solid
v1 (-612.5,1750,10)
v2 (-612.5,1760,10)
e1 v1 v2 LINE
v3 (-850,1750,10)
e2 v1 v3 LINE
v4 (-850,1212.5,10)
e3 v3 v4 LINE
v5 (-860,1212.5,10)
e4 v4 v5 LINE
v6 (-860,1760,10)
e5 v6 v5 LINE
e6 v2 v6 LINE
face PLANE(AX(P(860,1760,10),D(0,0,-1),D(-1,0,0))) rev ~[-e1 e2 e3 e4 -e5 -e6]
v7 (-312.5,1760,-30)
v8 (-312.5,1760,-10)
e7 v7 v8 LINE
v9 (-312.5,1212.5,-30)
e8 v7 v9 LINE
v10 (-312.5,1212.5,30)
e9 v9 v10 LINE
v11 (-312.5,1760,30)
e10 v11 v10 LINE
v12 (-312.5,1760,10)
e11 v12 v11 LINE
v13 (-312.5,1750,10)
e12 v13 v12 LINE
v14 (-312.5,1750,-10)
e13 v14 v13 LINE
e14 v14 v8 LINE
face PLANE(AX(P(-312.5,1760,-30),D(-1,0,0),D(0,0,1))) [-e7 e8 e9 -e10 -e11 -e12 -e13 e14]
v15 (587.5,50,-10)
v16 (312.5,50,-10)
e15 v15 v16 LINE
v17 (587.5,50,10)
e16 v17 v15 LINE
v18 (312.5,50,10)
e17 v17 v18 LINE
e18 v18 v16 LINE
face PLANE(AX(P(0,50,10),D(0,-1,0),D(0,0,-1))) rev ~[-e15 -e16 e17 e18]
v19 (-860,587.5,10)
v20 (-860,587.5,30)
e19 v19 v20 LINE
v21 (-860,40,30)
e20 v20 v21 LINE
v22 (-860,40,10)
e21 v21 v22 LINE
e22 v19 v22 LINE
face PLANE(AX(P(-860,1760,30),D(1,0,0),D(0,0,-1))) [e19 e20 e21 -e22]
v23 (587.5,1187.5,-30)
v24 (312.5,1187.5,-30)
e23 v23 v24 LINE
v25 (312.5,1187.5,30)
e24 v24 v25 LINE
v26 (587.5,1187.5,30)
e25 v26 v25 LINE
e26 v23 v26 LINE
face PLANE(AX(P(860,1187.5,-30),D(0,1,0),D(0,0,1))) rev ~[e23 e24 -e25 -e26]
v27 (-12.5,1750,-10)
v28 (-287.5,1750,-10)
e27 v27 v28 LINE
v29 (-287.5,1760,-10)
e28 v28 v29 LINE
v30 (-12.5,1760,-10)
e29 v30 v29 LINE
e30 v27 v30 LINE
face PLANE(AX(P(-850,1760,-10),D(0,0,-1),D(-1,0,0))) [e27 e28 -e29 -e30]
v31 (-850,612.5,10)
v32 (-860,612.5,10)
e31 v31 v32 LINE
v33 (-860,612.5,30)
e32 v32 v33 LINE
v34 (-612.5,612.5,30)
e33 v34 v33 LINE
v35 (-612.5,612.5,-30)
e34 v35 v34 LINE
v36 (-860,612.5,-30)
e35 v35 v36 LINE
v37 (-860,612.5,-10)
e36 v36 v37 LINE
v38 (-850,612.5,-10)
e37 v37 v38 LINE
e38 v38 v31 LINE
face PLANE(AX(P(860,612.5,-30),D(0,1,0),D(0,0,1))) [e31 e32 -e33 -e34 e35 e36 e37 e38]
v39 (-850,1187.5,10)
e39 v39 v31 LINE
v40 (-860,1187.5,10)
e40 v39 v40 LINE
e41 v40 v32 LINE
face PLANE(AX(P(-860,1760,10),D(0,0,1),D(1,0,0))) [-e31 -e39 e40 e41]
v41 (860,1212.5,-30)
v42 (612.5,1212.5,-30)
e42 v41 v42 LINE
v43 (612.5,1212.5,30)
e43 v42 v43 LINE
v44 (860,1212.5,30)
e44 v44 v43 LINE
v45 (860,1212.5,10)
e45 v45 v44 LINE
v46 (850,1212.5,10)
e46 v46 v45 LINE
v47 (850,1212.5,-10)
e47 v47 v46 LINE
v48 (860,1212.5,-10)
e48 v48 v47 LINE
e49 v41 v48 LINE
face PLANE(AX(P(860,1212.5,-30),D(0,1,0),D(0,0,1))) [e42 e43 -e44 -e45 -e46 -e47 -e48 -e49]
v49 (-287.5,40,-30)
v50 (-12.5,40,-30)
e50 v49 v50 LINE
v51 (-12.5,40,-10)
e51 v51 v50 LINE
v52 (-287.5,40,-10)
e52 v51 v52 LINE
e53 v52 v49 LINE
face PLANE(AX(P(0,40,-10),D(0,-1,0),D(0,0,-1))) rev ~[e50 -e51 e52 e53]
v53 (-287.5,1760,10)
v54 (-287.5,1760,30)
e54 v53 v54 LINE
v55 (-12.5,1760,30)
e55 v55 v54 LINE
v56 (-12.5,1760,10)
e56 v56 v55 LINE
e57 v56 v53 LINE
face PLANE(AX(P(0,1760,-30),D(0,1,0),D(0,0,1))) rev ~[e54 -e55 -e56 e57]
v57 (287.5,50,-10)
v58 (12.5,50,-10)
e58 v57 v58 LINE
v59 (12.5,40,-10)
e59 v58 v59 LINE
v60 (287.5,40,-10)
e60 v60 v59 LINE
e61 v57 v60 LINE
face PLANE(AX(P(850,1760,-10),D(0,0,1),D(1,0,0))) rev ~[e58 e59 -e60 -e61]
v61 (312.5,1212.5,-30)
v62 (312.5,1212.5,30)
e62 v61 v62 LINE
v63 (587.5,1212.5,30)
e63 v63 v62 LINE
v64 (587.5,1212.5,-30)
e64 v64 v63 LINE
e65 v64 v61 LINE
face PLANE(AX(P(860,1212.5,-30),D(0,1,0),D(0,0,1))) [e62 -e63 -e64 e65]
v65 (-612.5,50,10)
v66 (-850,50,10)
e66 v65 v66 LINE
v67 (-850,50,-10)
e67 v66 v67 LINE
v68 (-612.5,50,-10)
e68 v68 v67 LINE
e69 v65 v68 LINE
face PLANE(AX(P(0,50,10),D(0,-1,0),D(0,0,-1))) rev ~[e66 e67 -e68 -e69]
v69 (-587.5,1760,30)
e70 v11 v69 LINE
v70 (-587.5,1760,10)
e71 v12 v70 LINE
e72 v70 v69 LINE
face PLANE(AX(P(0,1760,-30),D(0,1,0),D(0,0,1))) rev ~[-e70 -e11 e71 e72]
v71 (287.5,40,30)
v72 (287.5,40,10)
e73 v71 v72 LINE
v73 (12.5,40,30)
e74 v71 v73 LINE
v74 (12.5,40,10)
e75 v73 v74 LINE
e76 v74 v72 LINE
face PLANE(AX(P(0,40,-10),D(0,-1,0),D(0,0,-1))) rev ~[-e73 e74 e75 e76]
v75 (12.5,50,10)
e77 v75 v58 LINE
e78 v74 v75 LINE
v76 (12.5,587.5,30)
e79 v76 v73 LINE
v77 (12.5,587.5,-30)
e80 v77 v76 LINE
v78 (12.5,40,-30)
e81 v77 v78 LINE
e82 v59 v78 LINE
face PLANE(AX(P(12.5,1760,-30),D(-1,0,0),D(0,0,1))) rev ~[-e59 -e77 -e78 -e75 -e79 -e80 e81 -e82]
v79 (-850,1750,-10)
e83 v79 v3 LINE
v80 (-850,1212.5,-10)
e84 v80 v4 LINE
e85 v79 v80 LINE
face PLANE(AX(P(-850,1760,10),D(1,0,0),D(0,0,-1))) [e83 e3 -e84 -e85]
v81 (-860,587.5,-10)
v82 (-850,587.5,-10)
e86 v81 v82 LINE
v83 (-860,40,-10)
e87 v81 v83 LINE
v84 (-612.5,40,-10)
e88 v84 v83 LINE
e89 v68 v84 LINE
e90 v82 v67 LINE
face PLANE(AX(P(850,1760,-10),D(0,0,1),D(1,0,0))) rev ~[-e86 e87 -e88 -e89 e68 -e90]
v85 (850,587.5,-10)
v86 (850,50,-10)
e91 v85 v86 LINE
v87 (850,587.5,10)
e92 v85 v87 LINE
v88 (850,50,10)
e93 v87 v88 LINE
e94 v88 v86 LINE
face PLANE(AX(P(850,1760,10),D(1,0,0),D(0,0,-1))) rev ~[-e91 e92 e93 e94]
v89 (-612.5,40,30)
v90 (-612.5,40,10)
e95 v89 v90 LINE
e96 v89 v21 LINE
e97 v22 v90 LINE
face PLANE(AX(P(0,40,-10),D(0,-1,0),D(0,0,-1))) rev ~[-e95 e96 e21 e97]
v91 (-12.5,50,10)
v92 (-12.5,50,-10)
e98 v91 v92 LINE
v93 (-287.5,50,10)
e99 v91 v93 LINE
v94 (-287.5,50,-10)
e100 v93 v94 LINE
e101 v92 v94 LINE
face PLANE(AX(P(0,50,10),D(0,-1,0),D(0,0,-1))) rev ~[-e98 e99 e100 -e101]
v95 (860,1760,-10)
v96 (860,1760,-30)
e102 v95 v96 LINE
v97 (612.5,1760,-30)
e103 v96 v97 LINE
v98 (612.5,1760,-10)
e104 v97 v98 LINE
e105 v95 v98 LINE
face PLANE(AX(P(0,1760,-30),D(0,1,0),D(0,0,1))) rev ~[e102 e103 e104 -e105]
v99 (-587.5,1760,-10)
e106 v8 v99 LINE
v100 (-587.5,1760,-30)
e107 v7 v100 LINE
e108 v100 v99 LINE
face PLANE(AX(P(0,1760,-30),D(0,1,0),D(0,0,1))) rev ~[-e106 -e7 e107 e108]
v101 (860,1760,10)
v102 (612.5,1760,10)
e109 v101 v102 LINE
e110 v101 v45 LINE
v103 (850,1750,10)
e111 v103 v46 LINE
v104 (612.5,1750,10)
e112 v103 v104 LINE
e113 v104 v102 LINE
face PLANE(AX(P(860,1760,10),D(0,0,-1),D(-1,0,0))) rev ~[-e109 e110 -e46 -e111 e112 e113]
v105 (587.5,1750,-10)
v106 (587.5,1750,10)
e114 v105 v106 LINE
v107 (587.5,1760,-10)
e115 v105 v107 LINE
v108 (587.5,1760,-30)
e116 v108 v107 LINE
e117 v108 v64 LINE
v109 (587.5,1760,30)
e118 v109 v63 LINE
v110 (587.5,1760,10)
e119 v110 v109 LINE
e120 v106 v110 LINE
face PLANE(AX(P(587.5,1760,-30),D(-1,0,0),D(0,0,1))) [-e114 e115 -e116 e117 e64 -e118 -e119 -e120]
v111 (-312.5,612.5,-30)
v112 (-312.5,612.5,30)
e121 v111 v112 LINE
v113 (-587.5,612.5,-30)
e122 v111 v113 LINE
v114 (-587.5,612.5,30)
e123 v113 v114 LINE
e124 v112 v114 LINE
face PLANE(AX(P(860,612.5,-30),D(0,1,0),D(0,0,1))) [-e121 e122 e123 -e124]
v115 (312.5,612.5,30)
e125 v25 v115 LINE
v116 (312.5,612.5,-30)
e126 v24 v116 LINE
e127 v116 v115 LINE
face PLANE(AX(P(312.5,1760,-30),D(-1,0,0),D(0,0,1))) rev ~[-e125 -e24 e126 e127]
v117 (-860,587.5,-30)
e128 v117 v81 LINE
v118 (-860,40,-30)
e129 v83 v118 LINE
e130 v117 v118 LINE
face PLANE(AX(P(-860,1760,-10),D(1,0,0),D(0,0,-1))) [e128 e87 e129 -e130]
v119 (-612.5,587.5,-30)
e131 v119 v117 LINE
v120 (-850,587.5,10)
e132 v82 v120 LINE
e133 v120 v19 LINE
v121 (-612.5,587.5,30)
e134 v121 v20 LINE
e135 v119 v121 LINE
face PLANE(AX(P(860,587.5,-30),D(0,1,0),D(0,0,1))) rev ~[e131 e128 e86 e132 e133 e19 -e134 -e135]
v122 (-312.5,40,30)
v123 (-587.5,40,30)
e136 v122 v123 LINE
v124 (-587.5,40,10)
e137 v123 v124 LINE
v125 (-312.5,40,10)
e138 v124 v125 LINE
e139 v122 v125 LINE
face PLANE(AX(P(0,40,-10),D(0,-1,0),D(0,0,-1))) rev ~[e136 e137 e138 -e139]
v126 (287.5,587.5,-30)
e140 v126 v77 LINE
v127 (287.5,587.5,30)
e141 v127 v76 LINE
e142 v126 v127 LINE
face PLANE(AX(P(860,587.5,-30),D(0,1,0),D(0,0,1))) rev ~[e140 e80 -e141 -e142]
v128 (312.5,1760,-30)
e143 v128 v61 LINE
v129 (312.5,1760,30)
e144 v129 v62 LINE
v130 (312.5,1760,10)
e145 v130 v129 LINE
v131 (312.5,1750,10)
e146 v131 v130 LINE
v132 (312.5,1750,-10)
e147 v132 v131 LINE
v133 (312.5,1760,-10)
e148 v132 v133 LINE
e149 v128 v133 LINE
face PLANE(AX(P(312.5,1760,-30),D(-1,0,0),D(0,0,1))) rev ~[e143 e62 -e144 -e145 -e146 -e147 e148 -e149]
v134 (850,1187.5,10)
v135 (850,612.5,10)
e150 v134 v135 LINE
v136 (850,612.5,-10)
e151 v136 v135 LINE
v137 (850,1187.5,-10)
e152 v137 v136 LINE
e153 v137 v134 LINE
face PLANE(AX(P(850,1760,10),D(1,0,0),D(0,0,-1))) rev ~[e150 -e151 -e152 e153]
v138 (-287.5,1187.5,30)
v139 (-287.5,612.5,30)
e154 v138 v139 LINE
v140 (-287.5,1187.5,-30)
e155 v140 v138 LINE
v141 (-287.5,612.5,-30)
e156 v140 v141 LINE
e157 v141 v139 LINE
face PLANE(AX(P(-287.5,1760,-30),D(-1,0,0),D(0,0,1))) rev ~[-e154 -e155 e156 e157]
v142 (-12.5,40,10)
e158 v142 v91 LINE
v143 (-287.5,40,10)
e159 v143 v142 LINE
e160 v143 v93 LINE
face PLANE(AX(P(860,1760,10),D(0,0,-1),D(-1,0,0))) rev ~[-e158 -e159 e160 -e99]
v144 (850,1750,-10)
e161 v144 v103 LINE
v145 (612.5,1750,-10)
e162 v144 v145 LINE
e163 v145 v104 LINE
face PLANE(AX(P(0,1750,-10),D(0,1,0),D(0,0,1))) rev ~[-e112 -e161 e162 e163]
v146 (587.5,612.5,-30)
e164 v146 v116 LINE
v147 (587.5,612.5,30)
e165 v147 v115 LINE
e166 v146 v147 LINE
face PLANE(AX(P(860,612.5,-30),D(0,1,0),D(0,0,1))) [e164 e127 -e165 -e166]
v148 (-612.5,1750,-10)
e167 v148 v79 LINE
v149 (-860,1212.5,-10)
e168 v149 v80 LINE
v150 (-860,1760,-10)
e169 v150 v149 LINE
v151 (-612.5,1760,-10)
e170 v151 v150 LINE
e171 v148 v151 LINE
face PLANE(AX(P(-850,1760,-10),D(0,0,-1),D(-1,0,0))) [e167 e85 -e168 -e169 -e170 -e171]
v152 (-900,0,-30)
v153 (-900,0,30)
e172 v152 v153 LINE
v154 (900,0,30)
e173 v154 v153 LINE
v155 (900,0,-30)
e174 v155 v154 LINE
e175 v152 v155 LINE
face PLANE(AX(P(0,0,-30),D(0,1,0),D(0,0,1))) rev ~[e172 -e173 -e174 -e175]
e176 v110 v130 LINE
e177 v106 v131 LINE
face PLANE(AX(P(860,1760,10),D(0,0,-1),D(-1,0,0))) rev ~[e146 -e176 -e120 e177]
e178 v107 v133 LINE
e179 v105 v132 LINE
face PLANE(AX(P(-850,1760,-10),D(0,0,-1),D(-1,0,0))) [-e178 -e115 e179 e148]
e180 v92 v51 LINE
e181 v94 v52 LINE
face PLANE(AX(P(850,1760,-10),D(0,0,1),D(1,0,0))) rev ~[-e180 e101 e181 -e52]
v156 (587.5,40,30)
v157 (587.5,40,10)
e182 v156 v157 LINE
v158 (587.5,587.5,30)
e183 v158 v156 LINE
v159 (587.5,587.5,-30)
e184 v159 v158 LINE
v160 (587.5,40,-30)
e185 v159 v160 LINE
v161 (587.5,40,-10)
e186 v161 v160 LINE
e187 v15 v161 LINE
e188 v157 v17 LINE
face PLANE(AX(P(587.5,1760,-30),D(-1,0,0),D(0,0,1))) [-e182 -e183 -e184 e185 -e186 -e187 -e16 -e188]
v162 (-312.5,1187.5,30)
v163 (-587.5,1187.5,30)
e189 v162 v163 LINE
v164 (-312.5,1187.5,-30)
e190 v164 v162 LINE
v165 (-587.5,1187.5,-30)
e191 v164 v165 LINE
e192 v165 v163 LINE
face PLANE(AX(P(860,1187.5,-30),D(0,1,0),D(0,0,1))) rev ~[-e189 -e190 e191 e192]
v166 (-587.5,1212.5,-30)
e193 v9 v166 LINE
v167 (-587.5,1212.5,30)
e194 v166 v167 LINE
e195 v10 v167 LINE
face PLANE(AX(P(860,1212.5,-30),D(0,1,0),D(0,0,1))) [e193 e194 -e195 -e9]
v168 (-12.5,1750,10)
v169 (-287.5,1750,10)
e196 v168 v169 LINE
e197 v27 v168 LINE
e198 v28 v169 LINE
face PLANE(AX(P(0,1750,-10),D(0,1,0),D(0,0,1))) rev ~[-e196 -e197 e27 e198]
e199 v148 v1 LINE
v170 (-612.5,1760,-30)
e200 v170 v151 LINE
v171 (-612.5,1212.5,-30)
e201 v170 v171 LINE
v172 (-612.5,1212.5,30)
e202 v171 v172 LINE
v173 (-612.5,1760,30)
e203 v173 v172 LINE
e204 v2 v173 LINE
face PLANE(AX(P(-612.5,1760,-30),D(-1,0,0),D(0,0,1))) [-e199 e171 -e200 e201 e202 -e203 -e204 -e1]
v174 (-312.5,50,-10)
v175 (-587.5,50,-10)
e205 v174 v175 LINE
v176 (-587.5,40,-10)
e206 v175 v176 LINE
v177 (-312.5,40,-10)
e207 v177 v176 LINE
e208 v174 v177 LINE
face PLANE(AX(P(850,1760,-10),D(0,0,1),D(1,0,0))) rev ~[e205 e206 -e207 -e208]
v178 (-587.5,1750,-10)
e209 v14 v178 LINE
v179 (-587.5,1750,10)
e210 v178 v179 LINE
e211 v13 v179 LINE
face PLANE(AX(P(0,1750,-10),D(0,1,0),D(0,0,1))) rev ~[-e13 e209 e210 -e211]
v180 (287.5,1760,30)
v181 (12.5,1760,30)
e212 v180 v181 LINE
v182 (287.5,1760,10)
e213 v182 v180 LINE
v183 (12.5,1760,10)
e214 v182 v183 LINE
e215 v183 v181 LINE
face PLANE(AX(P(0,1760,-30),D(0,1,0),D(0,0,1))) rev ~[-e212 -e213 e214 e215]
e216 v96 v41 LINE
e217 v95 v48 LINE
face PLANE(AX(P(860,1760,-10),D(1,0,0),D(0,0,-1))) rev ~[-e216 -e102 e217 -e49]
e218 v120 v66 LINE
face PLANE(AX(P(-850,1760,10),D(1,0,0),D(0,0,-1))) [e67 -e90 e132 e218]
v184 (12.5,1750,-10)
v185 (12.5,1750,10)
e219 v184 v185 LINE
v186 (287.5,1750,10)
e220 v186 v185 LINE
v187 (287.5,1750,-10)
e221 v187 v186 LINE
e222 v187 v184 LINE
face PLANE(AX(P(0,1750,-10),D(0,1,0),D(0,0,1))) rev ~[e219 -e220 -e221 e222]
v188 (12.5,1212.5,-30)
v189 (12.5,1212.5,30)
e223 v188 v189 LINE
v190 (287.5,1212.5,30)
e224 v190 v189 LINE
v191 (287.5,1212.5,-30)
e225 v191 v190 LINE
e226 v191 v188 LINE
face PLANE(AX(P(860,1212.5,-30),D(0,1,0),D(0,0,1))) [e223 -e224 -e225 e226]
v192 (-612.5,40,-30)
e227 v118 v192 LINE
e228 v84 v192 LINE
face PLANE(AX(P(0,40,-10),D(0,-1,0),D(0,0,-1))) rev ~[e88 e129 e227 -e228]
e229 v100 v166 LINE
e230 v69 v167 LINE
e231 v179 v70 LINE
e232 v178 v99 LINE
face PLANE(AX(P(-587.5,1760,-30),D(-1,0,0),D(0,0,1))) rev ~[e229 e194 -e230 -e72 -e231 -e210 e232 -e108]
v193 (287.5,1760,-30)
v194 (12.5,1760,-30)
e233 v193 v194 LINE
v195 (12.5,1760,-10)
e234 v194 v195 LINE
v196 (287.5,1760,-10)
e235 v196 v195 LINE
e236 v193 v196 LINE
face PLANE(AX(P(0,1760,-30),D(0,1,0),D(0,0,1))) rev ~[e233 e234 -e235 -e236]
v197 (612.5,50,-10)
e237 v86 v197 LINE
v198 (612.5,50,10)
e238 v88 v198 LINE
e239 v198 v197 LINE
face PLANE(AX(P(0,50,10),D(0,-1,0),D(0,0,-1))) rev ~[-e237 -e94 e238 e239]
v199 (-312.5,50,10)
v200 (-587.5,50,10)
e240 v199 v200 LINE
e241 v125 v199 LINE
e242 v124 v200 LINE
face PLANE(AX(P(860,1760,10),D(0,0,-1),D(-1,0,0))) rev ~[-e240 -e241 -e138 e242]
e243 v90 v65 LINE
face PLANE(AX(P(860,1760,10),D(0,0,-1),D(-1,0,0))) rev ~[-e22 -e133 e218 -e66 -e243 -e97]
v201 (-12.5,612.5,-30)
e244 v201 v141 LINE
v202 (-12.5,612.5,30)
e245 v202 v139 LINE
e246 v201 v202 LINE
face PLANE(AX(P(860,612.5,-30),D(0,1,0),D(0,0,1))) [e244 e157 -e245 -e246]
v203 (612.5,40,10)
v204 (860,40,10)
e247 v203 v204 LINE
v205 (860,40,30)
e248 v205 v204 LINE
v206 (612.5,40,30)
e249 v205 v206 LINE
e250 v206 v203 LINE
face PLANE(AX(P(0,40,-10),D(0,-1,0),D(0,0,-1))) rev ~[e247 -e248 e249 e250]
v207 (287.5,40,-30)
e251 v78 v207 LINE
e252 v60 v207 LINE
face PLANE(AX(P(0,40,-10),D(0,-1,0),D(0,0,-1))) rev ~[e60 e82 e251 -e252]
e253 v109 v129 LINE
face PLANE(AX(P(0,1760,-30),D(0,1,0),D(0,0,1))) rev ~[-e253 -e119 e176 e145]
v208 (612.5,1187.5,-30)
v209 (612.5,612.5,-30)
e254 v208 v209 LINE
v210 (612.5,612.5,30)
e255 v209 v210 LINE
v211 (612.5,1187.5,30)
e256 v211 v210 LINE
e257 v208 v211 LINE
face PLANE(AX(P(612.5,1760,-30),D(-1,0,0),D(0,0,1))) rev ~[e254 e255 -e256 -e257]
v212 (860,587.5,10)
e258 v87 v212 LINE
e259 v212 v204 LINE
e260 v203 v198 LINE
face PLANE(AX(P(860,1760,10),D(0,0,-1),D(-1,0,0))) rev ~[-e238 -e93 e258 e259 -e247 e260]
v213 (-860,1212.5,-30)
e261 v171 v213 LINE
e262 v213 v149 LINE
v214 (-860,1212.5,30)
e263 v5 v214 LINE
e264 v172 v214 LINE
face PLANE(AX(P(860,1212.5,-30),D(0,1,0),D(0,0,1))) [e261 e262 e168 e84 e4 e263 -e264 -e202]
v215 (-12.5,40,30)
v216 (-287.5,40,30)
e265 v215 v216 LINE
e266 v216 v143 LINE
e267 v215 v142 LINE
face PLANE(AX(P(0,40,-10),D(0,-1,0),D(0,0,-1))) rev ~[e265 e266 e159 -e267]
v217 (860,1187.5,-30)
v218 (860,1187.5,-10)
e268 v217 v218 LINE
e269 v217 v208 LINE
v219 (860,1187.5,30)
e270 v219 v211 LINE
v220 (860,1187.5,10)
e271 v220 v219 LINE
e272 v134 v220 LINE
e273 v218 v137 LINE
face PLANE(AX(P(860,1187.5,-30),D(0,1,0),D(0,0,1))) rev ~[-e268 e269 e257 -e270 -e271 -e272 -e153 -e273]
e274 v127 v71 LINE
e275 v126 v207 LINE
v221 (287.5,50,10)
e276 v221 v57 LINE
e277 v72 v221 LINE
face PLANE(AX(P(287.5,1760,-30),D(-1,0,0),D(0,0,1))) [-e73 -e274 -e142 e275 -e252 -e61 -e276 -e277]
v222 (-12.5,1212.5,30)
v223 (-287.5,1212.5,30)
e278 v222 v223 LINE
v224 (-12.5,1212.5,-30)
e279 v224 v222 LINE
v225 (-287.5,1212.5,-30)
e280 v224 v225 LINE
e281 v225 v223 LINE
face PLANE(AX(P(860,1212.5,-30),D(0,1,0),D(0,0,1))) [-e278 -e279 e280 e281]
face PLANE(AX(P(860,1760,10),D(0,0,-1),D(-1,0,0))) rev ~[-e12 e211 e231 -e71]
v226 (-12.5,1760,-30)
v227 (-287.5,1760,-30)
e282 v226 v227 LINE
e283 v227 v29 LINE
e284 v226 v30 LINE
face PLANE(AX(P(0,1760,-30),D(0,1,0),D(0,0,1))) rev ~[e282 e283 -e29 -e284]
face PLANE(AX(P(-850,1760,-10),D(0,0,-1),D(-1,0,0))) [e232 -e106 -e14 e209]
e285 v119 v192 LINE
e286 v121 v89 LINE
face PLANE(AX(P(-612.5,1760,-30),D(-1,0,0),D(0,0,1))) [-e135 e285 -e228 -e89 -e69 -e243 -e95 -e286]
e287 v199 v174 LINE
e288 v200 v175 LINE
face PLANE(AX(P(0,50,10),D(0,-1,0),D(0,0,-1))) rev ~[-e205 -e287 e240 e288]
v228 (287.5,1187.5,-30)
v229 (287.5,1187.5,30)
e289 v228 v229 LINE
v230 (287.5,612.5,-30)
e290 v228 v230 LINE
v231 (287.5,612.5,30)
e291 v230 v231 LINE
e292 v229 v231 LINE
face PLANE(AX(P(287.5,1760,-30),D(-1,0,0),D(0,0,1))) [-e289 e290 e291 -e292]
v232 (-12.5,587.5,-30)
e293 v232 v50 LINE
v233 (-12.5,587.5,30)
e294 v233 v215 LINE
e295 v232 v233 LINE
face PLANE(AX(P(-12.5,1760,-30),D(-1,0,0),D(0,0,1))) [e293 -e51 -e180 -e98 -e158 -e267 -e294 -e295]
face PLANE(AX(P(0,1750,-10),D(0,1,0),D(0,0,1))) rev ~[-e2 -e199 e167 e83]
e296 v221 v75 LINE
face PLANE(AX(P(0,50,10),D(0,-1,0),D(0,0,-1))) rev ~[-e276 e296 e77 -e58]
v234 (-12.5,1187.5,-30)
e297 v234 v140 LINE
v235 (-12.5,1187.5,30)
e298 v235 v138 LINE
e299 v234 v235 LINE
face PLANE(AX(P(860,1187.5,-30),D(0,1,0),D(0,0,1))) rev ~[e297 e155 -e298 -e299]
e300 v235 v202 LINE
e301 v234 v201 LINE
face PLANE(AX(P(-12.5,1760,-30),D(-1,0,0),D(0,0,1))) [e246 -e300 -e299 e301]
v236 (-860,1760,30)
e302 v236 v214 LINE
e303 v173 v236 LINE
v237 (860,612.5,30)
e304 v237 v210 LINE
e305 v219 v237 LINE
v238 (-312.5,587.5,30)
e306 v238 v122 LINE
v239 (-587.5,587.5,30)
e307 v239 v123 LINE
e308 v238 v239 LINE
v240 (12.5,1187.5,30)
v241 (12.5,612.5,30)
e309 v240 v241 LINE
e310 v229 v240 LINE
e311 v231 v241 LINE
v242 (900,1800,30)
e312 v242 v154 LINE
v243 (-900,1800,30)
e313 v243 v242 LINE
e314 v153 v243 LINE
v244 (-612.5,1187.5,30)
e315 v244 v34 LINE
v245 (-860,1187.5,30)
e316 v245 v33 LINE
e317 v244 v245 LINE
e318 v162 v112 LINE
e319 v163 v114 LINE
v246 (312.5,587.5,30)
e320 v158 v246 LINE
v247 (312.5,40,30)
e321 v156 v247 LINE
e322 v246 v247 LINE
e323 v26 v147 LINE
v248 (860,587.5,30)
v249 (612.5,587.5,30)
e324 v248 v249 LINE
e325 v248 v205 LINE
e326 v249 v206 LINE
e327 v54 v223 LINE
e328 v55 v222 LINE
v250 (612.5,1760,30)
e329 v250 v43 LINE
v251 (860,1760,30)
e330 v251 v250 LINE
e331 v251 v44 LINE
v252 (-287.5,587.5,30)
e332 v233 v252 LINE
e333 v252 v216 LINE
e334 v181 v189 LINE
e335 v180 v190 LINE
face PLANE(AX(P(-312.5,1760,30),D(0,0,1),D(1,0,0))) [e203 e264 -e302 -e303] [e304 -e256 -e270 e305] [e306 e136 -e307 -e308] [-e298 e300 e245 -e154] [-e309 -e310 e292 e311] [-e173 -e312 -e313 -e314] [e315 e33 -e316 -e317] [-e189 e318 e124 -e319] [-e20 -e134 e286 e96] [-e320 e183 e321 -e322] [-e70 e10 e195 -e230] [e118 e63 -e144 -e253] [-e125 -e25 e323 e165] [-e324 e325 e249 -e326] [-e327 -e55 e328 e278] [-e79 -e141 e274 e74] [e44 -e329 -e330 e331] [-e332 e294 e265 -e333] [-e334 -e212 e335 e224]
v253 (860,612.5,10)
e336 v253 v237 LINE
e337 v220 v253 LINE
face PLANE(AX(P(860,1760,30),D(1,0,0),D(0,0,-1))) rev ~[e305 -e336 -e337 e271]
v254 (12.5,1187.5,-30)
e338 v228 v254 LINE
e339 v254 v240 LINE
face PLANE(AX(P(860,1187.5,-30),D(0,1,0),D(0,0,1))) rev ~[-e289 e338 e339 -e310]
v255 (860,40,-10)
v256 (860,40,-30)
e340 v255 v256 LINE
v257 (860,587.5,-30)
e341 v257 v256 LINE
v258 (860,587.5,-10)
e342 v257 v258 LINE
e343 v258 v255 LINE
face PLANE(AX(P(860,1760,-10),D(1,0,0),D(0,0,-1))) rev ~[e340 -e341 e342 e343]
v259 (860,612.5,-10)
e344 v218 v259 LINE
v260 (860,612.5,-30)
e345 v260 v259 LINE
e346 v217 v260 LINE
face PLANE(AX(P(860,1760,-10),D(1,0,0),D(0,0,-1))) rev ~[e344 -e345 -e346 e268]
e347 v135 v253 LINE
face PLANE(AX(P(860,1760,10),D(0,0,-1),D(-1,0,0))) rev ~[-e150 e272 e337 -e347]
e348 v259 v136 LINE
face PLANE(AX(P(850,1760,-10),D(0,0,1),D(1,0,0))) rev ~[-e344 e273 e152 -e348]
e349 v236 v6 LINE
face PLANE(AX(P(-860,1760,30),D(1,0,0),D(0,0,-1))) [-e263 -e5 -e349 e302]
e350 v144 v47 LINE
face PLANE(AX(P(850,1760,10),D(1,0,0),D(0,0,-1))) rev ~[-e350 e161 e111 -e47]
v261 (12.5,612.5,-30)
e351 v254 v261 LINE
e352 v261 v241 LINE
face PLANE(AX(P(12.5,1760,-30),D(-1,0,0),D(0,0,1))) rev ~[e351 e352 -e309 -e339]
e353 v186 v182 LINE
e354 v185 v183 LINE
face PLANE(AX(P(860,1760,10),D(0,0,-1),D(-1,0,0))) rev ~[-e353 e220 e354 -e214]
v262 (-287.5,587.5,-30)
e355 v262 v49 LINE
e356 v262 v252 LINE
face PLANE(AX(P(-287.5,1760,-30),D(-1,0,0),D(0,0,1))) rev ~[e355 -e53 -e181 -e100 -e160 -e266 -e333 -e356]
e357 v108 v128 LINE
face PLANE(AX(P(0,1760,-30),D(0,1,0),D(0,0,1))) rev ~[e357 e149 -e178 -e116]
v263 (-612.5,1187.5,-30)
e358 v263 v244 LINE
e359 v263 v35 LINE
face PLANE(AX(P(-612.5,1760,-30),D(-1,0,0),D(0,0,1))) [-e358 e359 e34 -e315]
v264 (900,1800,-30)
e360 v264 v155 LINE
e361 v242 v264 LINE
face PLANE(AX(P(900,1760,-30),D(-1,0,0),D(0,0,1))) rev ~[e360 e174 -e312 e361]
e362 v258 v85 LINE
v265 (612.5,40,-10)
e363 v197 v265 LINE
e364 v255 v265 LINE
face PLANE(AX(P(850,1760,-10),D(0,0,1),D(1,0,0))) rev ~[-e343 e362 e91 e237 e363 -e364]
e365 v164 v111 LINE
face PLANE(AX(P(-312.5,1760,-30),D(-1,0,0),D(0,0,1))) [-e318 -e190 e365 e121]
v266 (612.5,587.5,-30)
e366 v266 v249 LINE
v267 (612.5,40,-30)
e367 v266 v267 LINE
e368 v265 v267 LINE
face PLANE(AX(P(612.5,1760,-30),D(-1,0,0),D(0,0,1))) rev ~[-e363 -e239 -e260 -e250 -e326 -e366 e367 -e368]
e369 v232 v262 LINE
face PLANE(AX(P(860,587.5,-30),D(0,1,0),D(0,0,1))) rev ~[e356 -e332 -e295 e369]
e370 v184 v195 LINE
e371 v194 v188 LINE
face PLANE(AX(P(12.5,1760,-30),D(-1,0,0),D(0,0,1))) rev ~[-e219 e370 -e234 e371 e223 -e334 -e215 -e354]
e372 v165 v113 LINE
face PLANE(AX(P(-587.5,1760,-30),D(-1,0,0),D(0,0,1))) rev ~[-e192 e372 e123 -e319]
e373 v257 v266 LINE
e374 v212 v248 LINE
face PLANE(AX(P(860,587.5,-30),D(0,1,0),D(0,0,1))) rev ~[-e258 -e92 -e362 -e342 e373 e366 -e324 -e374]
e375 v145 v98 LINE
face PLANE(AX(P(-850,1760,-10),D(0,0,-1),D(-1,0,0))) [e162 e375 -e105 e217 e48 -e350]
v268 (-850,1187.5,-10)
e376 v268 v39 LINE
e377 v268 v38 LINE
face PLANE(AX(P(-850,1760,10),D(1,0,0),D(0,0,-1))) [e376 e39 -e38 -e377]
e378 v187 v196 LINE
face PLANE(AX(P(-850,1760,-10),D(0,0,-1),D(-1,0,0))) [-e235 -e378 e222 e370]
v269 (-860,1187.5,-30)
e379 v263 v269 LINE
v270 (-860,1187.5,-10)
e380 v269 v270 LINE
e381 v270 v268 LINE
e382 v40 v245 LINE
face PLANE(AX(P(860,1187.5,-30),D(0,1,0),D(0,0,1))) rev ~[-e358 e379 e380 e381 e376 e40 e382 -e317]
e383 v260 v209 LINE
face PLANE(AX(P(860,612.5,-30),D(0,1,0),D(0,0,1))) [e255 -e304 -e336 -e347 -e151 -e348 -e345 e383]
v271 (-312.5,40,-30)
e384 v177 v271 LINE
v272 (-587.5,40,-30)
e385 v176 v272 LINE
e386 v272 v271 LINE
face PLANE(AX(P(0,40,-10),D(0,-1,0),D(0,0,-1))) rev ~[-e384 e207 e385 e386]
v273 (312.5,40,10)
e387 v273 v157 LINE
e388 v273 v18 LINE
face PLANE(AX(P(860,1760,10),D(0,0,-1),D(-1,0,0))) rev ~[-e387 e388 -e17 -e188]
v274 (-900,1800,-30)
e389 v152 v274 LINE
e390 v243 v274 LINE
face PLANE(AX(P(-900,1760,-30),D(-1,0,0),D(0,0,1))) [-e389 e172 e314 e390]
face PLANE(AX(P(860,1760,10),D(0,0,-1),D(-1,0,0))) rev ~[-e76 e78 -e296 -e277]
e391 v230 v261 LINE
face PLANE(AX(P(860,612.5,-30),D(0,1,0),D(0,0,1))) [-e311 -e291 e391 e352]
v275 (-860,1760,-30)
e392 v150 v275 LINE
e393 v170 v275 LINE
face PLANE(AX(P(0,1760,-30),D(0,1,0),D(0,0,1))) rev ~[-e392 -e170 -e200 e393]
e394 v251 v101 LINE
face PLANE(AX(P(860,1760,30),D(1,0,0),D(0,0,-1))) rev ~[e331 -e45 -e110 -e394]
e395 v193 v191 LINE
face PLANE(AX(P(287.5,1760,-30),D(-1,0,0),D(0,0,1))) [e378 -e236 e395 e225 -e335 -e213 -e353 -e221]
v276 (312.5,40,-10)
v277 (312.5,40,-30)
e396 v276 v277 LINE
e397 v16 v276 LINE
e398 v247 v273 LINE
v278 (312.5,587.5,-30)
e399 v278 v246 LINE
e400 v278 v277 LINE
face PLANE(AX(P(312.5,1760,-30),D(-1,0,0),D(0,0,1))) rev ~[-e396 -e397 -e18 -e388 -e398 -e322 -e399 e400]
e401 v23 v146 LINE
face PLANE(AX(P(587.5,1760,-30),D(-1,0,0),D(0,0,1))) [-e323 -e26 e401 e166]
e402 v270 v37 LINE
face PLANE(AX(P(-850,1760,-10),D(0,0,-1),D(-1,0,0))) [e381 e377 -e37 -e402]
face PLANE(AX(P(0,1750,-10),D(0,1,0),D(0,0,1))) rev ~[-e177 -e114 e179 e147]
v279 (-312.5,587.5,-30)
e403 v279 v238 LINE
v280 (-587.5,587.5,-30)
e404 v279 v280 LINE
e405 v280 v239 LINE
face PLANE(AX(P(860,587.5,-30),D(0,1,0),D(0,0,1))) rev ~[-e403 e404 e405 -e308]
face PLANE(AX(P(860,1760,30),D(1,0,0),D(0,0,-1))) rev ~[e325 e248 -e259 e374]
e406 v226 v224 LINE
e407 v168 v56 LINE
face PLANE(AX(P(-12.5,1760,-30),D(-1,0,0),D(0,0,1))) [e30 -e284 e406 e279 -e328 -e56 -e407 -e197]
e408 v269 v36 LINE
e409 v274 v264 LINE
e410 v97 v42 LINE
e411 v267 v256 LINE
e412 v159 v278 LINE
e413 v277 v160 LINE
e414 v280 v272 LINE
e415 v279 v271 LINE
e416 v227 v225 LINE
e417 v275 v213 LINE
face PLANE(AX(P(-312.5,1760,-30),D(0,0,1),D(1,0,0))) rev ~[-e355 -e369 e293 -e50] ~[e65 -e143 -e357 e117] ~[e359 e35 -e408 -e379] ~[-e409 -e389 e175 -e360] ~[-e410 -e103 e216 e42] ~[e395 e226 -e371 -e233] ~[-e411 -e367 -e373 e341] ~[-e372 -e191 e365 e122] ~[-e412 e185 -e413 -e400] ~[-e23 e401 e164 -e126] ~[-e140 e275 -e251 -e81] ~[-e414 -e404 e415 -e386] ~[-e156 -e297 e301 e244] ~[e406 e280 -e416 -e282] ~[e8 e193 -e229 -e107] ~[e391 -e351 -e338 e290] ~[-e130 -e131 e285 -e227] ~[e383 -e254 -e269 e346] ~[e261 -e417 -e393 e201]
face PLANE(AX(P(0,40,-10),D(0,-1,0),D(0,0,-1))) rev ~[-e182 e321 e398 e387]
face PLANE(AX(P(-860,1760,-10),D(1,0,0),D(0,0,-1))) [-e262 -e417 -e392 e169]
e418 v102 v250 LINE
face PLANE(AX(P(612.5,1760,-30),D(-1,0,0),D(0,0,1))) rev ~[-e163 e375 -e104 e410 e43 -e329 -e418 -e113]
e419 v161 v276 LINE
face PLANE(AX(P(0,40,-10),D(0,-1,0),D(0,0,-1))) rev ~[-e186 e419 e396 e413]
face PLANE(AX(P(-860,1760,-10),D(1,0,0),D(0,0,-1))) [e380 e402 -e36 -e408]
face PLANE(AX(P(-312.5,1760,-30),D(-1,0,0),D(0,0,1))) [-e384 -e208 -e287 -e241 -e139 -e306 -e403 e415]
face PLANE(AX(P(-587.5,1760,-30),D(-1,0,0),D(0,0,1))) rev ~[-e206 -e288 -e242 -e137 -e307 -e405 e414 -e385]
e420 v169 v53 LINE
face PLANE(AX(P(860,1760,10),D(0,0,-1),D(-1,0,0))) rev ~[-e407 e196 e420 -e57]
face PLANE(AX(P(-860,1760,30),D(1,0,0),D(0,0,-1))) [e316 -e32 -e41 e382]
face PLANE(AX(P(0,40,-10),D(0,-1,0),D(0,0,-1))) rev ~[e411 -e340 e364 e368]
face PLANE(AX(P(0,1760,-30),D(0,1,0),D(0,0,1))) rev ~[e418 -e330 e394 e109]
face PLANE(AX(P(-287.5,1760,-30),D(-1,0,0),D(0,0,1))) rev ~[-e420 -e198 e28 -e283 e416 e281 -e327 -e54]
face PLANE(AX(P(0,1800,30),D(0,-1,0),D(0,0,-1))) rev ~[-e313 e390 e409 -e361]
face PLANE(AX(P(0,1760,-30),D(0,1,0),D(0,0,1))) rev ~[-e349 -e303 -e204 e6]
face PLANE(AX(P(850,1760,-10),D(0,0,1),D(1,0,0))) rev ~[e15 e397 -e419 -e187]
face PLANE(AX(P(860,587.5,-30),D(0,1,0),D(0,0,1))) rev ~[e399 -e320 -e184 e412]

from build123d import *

# Parameters (mm, degrees)
EXTRUDE_1_DEPTH        = 900
EXTRUDE_1_2_DEPTH      = 900
EXTRUDE_2_DEPTH        = 1720
EXTRUDE_2_2_DEPTH      = 1720
SKETCH_4_W             = 50
SKETCH_4_H             = 60
CUT_EXTRUDE_1_DEPTH    = 10
SKETCH_5_W             = 50
SKETCH_5_H             = 60
CUT_EXTRUDE_2_DEPTH    = 10
SKETCH_6_W             = 60
SKETCH_6_H             = 25
EXTRUDE_3_DEPTH        = 1720
PATTERN_LINEAR_1_COUNT = 2
PATTERN_LINEAR_1_PITCH = 600
SKETCH_7_W             = 25
SKETCH_7_H             = 60
EXTRUDE_4_DEPTH        = 1729
PATTERN_LINEAR_2_COUNT = 5
PATTERN_LINEAR_2_PITCH = 300


with BuildPart() as part:
    # 草图1 → 凸台-拉伸1 (new, symmetric)
    with BuildSketch(Plane(origin=(0, 0, 0), x_dir=(0, 0, -1), z_dir=(1, 0, 0))):
        Polygon((30, 0), (-30, 0), (-30, 40), (-10, 40), (-10, 50), (10, 50), (10, 40), (30, 40), align=None)
    extrude(amount=EXTRUDE_1_DEPTH, both=True)

    # 草图5 → 切除-拉伸2 (cut)
    with BuildSketch(Plane(origin=(0, 40, 0), x_dir=(1, 0, 0), z_dir=(0, 1, 0))):
        with Locations((-875, 0)):
            Rectangle(SKETCH_5_W, SKETCH_5_H)
        with Locations((875, 0)):
            Rectangle(SKETCH_5_W, SKETCH_5_H)
    extrude(amount=CUT_EXTRUDE_2_DEPTH, mode=Mode.SUBTRACT)



with BuildPart() as body_2:
    # 草图1 → Extrude 1 2 (new, symmetric)
    with BuildSketch(Plane(origin=(0, 0, 0), x_dir=(0, 0, -1), z_dir=(1, 0, 0))):
        Polygon((30, 1800), (30, 1760), (10, 1760), (10, 1750), (-10, 1750), (-10, 1760), (-30, 1760), (-30, 1800), align=None)
    extrude(amount=EXTRUDE_1_2_DEPTH, both=True)

    # 草图4 → 切除-拉伸1 (cut)
    with BuildSketch(Plane.XZ.offset(-1760)):
        with Locations((-875, 0)):
            Rectangle(SKETCH_4_W, SKETCH_4_H)
        with Locations((875, 0)):
            Rectangle(SKETCH_4_W, SKETCH_4_H)
    extrude(amount=CUT_EXTRUDE_1_DEPTH, mode=Mode.SUBTRACT)


with BuildPart() as body_3:
    # 草图3 → 凸台-拉伸2 (new body)
    with BuildSketch(Plane.XZ.offset(-1760)):
        Polygon((-900, -30), (-900, 30), (-860, 30), (-860, 10), (-850, 10), (-850, -10), (-860, -10), (-860, -30), align=None)
    extrude(amount=EXTRUDE_2_DEPTH)



with BuildPart() as body_4:
    # 草图3 → Extrude 2 2 (new body)
    with BuildSketch(Plane.XZ.offset(-1760)):
        Polygon((860, -30), (900, -30), (900, 30), (860, 30), (860, 10), (850, 10), (850, -10), (860, -10), align=None)
    extrude(amount=EXTRUDE_2_2_DEPTH)


with BuildPart() as body_3_1:
    add(body_3.part)

    add(body_4.part)  # 凸台-拉伸3 merges body 4
    # 草图6 → 凸台-拉伸3 (add)
    with BuildSketch(Plane.ZY.offset(-860)):
        with Locations((0, 1200)):
            Rectangle(SKETCH_6_W, SKETCH_6_H)
    extrude_3 = extrude(amount=EXTRUDE_3_DEPTH)

    # 阵列(线性)1: 凸台-拉伸3 ×2
    with Locations(*[(0, -i * PATTERN_LINEAR_1_PITCH, 0) for i in range(1, PATTERN_LINEAR_1_COUNT)]):
        add(extrude_3)


with BuildPart() as part_1:
    add(part.part)

    add(body_2.part)  # 凸台-拉伸4 merges body 2

    add(body_3_1.part)  # 凸台-拉伸4 merges body 3
    # 草图7 → 凸台-拉伸4 (add)
    with BuildSketch(Plane.XZ.offset(-1760)):
        with Locations((-600, 0)):
            Rectangle(SKETCH_7_W, SKETCH_7_H)
    extrude_4 = extrude(amount=EXTRUDE_4_DEPTH)

    # 阵列(线性)2: 凸台-拉伸4 ×5
    with Locations(*[(i * PATTERN_LINEAR_2_PITCH, 0, 0) for i in range(1, PATTERN_LINEAR_2_COUNT)]):
        add(extrude_4)


solid = part_1.part
